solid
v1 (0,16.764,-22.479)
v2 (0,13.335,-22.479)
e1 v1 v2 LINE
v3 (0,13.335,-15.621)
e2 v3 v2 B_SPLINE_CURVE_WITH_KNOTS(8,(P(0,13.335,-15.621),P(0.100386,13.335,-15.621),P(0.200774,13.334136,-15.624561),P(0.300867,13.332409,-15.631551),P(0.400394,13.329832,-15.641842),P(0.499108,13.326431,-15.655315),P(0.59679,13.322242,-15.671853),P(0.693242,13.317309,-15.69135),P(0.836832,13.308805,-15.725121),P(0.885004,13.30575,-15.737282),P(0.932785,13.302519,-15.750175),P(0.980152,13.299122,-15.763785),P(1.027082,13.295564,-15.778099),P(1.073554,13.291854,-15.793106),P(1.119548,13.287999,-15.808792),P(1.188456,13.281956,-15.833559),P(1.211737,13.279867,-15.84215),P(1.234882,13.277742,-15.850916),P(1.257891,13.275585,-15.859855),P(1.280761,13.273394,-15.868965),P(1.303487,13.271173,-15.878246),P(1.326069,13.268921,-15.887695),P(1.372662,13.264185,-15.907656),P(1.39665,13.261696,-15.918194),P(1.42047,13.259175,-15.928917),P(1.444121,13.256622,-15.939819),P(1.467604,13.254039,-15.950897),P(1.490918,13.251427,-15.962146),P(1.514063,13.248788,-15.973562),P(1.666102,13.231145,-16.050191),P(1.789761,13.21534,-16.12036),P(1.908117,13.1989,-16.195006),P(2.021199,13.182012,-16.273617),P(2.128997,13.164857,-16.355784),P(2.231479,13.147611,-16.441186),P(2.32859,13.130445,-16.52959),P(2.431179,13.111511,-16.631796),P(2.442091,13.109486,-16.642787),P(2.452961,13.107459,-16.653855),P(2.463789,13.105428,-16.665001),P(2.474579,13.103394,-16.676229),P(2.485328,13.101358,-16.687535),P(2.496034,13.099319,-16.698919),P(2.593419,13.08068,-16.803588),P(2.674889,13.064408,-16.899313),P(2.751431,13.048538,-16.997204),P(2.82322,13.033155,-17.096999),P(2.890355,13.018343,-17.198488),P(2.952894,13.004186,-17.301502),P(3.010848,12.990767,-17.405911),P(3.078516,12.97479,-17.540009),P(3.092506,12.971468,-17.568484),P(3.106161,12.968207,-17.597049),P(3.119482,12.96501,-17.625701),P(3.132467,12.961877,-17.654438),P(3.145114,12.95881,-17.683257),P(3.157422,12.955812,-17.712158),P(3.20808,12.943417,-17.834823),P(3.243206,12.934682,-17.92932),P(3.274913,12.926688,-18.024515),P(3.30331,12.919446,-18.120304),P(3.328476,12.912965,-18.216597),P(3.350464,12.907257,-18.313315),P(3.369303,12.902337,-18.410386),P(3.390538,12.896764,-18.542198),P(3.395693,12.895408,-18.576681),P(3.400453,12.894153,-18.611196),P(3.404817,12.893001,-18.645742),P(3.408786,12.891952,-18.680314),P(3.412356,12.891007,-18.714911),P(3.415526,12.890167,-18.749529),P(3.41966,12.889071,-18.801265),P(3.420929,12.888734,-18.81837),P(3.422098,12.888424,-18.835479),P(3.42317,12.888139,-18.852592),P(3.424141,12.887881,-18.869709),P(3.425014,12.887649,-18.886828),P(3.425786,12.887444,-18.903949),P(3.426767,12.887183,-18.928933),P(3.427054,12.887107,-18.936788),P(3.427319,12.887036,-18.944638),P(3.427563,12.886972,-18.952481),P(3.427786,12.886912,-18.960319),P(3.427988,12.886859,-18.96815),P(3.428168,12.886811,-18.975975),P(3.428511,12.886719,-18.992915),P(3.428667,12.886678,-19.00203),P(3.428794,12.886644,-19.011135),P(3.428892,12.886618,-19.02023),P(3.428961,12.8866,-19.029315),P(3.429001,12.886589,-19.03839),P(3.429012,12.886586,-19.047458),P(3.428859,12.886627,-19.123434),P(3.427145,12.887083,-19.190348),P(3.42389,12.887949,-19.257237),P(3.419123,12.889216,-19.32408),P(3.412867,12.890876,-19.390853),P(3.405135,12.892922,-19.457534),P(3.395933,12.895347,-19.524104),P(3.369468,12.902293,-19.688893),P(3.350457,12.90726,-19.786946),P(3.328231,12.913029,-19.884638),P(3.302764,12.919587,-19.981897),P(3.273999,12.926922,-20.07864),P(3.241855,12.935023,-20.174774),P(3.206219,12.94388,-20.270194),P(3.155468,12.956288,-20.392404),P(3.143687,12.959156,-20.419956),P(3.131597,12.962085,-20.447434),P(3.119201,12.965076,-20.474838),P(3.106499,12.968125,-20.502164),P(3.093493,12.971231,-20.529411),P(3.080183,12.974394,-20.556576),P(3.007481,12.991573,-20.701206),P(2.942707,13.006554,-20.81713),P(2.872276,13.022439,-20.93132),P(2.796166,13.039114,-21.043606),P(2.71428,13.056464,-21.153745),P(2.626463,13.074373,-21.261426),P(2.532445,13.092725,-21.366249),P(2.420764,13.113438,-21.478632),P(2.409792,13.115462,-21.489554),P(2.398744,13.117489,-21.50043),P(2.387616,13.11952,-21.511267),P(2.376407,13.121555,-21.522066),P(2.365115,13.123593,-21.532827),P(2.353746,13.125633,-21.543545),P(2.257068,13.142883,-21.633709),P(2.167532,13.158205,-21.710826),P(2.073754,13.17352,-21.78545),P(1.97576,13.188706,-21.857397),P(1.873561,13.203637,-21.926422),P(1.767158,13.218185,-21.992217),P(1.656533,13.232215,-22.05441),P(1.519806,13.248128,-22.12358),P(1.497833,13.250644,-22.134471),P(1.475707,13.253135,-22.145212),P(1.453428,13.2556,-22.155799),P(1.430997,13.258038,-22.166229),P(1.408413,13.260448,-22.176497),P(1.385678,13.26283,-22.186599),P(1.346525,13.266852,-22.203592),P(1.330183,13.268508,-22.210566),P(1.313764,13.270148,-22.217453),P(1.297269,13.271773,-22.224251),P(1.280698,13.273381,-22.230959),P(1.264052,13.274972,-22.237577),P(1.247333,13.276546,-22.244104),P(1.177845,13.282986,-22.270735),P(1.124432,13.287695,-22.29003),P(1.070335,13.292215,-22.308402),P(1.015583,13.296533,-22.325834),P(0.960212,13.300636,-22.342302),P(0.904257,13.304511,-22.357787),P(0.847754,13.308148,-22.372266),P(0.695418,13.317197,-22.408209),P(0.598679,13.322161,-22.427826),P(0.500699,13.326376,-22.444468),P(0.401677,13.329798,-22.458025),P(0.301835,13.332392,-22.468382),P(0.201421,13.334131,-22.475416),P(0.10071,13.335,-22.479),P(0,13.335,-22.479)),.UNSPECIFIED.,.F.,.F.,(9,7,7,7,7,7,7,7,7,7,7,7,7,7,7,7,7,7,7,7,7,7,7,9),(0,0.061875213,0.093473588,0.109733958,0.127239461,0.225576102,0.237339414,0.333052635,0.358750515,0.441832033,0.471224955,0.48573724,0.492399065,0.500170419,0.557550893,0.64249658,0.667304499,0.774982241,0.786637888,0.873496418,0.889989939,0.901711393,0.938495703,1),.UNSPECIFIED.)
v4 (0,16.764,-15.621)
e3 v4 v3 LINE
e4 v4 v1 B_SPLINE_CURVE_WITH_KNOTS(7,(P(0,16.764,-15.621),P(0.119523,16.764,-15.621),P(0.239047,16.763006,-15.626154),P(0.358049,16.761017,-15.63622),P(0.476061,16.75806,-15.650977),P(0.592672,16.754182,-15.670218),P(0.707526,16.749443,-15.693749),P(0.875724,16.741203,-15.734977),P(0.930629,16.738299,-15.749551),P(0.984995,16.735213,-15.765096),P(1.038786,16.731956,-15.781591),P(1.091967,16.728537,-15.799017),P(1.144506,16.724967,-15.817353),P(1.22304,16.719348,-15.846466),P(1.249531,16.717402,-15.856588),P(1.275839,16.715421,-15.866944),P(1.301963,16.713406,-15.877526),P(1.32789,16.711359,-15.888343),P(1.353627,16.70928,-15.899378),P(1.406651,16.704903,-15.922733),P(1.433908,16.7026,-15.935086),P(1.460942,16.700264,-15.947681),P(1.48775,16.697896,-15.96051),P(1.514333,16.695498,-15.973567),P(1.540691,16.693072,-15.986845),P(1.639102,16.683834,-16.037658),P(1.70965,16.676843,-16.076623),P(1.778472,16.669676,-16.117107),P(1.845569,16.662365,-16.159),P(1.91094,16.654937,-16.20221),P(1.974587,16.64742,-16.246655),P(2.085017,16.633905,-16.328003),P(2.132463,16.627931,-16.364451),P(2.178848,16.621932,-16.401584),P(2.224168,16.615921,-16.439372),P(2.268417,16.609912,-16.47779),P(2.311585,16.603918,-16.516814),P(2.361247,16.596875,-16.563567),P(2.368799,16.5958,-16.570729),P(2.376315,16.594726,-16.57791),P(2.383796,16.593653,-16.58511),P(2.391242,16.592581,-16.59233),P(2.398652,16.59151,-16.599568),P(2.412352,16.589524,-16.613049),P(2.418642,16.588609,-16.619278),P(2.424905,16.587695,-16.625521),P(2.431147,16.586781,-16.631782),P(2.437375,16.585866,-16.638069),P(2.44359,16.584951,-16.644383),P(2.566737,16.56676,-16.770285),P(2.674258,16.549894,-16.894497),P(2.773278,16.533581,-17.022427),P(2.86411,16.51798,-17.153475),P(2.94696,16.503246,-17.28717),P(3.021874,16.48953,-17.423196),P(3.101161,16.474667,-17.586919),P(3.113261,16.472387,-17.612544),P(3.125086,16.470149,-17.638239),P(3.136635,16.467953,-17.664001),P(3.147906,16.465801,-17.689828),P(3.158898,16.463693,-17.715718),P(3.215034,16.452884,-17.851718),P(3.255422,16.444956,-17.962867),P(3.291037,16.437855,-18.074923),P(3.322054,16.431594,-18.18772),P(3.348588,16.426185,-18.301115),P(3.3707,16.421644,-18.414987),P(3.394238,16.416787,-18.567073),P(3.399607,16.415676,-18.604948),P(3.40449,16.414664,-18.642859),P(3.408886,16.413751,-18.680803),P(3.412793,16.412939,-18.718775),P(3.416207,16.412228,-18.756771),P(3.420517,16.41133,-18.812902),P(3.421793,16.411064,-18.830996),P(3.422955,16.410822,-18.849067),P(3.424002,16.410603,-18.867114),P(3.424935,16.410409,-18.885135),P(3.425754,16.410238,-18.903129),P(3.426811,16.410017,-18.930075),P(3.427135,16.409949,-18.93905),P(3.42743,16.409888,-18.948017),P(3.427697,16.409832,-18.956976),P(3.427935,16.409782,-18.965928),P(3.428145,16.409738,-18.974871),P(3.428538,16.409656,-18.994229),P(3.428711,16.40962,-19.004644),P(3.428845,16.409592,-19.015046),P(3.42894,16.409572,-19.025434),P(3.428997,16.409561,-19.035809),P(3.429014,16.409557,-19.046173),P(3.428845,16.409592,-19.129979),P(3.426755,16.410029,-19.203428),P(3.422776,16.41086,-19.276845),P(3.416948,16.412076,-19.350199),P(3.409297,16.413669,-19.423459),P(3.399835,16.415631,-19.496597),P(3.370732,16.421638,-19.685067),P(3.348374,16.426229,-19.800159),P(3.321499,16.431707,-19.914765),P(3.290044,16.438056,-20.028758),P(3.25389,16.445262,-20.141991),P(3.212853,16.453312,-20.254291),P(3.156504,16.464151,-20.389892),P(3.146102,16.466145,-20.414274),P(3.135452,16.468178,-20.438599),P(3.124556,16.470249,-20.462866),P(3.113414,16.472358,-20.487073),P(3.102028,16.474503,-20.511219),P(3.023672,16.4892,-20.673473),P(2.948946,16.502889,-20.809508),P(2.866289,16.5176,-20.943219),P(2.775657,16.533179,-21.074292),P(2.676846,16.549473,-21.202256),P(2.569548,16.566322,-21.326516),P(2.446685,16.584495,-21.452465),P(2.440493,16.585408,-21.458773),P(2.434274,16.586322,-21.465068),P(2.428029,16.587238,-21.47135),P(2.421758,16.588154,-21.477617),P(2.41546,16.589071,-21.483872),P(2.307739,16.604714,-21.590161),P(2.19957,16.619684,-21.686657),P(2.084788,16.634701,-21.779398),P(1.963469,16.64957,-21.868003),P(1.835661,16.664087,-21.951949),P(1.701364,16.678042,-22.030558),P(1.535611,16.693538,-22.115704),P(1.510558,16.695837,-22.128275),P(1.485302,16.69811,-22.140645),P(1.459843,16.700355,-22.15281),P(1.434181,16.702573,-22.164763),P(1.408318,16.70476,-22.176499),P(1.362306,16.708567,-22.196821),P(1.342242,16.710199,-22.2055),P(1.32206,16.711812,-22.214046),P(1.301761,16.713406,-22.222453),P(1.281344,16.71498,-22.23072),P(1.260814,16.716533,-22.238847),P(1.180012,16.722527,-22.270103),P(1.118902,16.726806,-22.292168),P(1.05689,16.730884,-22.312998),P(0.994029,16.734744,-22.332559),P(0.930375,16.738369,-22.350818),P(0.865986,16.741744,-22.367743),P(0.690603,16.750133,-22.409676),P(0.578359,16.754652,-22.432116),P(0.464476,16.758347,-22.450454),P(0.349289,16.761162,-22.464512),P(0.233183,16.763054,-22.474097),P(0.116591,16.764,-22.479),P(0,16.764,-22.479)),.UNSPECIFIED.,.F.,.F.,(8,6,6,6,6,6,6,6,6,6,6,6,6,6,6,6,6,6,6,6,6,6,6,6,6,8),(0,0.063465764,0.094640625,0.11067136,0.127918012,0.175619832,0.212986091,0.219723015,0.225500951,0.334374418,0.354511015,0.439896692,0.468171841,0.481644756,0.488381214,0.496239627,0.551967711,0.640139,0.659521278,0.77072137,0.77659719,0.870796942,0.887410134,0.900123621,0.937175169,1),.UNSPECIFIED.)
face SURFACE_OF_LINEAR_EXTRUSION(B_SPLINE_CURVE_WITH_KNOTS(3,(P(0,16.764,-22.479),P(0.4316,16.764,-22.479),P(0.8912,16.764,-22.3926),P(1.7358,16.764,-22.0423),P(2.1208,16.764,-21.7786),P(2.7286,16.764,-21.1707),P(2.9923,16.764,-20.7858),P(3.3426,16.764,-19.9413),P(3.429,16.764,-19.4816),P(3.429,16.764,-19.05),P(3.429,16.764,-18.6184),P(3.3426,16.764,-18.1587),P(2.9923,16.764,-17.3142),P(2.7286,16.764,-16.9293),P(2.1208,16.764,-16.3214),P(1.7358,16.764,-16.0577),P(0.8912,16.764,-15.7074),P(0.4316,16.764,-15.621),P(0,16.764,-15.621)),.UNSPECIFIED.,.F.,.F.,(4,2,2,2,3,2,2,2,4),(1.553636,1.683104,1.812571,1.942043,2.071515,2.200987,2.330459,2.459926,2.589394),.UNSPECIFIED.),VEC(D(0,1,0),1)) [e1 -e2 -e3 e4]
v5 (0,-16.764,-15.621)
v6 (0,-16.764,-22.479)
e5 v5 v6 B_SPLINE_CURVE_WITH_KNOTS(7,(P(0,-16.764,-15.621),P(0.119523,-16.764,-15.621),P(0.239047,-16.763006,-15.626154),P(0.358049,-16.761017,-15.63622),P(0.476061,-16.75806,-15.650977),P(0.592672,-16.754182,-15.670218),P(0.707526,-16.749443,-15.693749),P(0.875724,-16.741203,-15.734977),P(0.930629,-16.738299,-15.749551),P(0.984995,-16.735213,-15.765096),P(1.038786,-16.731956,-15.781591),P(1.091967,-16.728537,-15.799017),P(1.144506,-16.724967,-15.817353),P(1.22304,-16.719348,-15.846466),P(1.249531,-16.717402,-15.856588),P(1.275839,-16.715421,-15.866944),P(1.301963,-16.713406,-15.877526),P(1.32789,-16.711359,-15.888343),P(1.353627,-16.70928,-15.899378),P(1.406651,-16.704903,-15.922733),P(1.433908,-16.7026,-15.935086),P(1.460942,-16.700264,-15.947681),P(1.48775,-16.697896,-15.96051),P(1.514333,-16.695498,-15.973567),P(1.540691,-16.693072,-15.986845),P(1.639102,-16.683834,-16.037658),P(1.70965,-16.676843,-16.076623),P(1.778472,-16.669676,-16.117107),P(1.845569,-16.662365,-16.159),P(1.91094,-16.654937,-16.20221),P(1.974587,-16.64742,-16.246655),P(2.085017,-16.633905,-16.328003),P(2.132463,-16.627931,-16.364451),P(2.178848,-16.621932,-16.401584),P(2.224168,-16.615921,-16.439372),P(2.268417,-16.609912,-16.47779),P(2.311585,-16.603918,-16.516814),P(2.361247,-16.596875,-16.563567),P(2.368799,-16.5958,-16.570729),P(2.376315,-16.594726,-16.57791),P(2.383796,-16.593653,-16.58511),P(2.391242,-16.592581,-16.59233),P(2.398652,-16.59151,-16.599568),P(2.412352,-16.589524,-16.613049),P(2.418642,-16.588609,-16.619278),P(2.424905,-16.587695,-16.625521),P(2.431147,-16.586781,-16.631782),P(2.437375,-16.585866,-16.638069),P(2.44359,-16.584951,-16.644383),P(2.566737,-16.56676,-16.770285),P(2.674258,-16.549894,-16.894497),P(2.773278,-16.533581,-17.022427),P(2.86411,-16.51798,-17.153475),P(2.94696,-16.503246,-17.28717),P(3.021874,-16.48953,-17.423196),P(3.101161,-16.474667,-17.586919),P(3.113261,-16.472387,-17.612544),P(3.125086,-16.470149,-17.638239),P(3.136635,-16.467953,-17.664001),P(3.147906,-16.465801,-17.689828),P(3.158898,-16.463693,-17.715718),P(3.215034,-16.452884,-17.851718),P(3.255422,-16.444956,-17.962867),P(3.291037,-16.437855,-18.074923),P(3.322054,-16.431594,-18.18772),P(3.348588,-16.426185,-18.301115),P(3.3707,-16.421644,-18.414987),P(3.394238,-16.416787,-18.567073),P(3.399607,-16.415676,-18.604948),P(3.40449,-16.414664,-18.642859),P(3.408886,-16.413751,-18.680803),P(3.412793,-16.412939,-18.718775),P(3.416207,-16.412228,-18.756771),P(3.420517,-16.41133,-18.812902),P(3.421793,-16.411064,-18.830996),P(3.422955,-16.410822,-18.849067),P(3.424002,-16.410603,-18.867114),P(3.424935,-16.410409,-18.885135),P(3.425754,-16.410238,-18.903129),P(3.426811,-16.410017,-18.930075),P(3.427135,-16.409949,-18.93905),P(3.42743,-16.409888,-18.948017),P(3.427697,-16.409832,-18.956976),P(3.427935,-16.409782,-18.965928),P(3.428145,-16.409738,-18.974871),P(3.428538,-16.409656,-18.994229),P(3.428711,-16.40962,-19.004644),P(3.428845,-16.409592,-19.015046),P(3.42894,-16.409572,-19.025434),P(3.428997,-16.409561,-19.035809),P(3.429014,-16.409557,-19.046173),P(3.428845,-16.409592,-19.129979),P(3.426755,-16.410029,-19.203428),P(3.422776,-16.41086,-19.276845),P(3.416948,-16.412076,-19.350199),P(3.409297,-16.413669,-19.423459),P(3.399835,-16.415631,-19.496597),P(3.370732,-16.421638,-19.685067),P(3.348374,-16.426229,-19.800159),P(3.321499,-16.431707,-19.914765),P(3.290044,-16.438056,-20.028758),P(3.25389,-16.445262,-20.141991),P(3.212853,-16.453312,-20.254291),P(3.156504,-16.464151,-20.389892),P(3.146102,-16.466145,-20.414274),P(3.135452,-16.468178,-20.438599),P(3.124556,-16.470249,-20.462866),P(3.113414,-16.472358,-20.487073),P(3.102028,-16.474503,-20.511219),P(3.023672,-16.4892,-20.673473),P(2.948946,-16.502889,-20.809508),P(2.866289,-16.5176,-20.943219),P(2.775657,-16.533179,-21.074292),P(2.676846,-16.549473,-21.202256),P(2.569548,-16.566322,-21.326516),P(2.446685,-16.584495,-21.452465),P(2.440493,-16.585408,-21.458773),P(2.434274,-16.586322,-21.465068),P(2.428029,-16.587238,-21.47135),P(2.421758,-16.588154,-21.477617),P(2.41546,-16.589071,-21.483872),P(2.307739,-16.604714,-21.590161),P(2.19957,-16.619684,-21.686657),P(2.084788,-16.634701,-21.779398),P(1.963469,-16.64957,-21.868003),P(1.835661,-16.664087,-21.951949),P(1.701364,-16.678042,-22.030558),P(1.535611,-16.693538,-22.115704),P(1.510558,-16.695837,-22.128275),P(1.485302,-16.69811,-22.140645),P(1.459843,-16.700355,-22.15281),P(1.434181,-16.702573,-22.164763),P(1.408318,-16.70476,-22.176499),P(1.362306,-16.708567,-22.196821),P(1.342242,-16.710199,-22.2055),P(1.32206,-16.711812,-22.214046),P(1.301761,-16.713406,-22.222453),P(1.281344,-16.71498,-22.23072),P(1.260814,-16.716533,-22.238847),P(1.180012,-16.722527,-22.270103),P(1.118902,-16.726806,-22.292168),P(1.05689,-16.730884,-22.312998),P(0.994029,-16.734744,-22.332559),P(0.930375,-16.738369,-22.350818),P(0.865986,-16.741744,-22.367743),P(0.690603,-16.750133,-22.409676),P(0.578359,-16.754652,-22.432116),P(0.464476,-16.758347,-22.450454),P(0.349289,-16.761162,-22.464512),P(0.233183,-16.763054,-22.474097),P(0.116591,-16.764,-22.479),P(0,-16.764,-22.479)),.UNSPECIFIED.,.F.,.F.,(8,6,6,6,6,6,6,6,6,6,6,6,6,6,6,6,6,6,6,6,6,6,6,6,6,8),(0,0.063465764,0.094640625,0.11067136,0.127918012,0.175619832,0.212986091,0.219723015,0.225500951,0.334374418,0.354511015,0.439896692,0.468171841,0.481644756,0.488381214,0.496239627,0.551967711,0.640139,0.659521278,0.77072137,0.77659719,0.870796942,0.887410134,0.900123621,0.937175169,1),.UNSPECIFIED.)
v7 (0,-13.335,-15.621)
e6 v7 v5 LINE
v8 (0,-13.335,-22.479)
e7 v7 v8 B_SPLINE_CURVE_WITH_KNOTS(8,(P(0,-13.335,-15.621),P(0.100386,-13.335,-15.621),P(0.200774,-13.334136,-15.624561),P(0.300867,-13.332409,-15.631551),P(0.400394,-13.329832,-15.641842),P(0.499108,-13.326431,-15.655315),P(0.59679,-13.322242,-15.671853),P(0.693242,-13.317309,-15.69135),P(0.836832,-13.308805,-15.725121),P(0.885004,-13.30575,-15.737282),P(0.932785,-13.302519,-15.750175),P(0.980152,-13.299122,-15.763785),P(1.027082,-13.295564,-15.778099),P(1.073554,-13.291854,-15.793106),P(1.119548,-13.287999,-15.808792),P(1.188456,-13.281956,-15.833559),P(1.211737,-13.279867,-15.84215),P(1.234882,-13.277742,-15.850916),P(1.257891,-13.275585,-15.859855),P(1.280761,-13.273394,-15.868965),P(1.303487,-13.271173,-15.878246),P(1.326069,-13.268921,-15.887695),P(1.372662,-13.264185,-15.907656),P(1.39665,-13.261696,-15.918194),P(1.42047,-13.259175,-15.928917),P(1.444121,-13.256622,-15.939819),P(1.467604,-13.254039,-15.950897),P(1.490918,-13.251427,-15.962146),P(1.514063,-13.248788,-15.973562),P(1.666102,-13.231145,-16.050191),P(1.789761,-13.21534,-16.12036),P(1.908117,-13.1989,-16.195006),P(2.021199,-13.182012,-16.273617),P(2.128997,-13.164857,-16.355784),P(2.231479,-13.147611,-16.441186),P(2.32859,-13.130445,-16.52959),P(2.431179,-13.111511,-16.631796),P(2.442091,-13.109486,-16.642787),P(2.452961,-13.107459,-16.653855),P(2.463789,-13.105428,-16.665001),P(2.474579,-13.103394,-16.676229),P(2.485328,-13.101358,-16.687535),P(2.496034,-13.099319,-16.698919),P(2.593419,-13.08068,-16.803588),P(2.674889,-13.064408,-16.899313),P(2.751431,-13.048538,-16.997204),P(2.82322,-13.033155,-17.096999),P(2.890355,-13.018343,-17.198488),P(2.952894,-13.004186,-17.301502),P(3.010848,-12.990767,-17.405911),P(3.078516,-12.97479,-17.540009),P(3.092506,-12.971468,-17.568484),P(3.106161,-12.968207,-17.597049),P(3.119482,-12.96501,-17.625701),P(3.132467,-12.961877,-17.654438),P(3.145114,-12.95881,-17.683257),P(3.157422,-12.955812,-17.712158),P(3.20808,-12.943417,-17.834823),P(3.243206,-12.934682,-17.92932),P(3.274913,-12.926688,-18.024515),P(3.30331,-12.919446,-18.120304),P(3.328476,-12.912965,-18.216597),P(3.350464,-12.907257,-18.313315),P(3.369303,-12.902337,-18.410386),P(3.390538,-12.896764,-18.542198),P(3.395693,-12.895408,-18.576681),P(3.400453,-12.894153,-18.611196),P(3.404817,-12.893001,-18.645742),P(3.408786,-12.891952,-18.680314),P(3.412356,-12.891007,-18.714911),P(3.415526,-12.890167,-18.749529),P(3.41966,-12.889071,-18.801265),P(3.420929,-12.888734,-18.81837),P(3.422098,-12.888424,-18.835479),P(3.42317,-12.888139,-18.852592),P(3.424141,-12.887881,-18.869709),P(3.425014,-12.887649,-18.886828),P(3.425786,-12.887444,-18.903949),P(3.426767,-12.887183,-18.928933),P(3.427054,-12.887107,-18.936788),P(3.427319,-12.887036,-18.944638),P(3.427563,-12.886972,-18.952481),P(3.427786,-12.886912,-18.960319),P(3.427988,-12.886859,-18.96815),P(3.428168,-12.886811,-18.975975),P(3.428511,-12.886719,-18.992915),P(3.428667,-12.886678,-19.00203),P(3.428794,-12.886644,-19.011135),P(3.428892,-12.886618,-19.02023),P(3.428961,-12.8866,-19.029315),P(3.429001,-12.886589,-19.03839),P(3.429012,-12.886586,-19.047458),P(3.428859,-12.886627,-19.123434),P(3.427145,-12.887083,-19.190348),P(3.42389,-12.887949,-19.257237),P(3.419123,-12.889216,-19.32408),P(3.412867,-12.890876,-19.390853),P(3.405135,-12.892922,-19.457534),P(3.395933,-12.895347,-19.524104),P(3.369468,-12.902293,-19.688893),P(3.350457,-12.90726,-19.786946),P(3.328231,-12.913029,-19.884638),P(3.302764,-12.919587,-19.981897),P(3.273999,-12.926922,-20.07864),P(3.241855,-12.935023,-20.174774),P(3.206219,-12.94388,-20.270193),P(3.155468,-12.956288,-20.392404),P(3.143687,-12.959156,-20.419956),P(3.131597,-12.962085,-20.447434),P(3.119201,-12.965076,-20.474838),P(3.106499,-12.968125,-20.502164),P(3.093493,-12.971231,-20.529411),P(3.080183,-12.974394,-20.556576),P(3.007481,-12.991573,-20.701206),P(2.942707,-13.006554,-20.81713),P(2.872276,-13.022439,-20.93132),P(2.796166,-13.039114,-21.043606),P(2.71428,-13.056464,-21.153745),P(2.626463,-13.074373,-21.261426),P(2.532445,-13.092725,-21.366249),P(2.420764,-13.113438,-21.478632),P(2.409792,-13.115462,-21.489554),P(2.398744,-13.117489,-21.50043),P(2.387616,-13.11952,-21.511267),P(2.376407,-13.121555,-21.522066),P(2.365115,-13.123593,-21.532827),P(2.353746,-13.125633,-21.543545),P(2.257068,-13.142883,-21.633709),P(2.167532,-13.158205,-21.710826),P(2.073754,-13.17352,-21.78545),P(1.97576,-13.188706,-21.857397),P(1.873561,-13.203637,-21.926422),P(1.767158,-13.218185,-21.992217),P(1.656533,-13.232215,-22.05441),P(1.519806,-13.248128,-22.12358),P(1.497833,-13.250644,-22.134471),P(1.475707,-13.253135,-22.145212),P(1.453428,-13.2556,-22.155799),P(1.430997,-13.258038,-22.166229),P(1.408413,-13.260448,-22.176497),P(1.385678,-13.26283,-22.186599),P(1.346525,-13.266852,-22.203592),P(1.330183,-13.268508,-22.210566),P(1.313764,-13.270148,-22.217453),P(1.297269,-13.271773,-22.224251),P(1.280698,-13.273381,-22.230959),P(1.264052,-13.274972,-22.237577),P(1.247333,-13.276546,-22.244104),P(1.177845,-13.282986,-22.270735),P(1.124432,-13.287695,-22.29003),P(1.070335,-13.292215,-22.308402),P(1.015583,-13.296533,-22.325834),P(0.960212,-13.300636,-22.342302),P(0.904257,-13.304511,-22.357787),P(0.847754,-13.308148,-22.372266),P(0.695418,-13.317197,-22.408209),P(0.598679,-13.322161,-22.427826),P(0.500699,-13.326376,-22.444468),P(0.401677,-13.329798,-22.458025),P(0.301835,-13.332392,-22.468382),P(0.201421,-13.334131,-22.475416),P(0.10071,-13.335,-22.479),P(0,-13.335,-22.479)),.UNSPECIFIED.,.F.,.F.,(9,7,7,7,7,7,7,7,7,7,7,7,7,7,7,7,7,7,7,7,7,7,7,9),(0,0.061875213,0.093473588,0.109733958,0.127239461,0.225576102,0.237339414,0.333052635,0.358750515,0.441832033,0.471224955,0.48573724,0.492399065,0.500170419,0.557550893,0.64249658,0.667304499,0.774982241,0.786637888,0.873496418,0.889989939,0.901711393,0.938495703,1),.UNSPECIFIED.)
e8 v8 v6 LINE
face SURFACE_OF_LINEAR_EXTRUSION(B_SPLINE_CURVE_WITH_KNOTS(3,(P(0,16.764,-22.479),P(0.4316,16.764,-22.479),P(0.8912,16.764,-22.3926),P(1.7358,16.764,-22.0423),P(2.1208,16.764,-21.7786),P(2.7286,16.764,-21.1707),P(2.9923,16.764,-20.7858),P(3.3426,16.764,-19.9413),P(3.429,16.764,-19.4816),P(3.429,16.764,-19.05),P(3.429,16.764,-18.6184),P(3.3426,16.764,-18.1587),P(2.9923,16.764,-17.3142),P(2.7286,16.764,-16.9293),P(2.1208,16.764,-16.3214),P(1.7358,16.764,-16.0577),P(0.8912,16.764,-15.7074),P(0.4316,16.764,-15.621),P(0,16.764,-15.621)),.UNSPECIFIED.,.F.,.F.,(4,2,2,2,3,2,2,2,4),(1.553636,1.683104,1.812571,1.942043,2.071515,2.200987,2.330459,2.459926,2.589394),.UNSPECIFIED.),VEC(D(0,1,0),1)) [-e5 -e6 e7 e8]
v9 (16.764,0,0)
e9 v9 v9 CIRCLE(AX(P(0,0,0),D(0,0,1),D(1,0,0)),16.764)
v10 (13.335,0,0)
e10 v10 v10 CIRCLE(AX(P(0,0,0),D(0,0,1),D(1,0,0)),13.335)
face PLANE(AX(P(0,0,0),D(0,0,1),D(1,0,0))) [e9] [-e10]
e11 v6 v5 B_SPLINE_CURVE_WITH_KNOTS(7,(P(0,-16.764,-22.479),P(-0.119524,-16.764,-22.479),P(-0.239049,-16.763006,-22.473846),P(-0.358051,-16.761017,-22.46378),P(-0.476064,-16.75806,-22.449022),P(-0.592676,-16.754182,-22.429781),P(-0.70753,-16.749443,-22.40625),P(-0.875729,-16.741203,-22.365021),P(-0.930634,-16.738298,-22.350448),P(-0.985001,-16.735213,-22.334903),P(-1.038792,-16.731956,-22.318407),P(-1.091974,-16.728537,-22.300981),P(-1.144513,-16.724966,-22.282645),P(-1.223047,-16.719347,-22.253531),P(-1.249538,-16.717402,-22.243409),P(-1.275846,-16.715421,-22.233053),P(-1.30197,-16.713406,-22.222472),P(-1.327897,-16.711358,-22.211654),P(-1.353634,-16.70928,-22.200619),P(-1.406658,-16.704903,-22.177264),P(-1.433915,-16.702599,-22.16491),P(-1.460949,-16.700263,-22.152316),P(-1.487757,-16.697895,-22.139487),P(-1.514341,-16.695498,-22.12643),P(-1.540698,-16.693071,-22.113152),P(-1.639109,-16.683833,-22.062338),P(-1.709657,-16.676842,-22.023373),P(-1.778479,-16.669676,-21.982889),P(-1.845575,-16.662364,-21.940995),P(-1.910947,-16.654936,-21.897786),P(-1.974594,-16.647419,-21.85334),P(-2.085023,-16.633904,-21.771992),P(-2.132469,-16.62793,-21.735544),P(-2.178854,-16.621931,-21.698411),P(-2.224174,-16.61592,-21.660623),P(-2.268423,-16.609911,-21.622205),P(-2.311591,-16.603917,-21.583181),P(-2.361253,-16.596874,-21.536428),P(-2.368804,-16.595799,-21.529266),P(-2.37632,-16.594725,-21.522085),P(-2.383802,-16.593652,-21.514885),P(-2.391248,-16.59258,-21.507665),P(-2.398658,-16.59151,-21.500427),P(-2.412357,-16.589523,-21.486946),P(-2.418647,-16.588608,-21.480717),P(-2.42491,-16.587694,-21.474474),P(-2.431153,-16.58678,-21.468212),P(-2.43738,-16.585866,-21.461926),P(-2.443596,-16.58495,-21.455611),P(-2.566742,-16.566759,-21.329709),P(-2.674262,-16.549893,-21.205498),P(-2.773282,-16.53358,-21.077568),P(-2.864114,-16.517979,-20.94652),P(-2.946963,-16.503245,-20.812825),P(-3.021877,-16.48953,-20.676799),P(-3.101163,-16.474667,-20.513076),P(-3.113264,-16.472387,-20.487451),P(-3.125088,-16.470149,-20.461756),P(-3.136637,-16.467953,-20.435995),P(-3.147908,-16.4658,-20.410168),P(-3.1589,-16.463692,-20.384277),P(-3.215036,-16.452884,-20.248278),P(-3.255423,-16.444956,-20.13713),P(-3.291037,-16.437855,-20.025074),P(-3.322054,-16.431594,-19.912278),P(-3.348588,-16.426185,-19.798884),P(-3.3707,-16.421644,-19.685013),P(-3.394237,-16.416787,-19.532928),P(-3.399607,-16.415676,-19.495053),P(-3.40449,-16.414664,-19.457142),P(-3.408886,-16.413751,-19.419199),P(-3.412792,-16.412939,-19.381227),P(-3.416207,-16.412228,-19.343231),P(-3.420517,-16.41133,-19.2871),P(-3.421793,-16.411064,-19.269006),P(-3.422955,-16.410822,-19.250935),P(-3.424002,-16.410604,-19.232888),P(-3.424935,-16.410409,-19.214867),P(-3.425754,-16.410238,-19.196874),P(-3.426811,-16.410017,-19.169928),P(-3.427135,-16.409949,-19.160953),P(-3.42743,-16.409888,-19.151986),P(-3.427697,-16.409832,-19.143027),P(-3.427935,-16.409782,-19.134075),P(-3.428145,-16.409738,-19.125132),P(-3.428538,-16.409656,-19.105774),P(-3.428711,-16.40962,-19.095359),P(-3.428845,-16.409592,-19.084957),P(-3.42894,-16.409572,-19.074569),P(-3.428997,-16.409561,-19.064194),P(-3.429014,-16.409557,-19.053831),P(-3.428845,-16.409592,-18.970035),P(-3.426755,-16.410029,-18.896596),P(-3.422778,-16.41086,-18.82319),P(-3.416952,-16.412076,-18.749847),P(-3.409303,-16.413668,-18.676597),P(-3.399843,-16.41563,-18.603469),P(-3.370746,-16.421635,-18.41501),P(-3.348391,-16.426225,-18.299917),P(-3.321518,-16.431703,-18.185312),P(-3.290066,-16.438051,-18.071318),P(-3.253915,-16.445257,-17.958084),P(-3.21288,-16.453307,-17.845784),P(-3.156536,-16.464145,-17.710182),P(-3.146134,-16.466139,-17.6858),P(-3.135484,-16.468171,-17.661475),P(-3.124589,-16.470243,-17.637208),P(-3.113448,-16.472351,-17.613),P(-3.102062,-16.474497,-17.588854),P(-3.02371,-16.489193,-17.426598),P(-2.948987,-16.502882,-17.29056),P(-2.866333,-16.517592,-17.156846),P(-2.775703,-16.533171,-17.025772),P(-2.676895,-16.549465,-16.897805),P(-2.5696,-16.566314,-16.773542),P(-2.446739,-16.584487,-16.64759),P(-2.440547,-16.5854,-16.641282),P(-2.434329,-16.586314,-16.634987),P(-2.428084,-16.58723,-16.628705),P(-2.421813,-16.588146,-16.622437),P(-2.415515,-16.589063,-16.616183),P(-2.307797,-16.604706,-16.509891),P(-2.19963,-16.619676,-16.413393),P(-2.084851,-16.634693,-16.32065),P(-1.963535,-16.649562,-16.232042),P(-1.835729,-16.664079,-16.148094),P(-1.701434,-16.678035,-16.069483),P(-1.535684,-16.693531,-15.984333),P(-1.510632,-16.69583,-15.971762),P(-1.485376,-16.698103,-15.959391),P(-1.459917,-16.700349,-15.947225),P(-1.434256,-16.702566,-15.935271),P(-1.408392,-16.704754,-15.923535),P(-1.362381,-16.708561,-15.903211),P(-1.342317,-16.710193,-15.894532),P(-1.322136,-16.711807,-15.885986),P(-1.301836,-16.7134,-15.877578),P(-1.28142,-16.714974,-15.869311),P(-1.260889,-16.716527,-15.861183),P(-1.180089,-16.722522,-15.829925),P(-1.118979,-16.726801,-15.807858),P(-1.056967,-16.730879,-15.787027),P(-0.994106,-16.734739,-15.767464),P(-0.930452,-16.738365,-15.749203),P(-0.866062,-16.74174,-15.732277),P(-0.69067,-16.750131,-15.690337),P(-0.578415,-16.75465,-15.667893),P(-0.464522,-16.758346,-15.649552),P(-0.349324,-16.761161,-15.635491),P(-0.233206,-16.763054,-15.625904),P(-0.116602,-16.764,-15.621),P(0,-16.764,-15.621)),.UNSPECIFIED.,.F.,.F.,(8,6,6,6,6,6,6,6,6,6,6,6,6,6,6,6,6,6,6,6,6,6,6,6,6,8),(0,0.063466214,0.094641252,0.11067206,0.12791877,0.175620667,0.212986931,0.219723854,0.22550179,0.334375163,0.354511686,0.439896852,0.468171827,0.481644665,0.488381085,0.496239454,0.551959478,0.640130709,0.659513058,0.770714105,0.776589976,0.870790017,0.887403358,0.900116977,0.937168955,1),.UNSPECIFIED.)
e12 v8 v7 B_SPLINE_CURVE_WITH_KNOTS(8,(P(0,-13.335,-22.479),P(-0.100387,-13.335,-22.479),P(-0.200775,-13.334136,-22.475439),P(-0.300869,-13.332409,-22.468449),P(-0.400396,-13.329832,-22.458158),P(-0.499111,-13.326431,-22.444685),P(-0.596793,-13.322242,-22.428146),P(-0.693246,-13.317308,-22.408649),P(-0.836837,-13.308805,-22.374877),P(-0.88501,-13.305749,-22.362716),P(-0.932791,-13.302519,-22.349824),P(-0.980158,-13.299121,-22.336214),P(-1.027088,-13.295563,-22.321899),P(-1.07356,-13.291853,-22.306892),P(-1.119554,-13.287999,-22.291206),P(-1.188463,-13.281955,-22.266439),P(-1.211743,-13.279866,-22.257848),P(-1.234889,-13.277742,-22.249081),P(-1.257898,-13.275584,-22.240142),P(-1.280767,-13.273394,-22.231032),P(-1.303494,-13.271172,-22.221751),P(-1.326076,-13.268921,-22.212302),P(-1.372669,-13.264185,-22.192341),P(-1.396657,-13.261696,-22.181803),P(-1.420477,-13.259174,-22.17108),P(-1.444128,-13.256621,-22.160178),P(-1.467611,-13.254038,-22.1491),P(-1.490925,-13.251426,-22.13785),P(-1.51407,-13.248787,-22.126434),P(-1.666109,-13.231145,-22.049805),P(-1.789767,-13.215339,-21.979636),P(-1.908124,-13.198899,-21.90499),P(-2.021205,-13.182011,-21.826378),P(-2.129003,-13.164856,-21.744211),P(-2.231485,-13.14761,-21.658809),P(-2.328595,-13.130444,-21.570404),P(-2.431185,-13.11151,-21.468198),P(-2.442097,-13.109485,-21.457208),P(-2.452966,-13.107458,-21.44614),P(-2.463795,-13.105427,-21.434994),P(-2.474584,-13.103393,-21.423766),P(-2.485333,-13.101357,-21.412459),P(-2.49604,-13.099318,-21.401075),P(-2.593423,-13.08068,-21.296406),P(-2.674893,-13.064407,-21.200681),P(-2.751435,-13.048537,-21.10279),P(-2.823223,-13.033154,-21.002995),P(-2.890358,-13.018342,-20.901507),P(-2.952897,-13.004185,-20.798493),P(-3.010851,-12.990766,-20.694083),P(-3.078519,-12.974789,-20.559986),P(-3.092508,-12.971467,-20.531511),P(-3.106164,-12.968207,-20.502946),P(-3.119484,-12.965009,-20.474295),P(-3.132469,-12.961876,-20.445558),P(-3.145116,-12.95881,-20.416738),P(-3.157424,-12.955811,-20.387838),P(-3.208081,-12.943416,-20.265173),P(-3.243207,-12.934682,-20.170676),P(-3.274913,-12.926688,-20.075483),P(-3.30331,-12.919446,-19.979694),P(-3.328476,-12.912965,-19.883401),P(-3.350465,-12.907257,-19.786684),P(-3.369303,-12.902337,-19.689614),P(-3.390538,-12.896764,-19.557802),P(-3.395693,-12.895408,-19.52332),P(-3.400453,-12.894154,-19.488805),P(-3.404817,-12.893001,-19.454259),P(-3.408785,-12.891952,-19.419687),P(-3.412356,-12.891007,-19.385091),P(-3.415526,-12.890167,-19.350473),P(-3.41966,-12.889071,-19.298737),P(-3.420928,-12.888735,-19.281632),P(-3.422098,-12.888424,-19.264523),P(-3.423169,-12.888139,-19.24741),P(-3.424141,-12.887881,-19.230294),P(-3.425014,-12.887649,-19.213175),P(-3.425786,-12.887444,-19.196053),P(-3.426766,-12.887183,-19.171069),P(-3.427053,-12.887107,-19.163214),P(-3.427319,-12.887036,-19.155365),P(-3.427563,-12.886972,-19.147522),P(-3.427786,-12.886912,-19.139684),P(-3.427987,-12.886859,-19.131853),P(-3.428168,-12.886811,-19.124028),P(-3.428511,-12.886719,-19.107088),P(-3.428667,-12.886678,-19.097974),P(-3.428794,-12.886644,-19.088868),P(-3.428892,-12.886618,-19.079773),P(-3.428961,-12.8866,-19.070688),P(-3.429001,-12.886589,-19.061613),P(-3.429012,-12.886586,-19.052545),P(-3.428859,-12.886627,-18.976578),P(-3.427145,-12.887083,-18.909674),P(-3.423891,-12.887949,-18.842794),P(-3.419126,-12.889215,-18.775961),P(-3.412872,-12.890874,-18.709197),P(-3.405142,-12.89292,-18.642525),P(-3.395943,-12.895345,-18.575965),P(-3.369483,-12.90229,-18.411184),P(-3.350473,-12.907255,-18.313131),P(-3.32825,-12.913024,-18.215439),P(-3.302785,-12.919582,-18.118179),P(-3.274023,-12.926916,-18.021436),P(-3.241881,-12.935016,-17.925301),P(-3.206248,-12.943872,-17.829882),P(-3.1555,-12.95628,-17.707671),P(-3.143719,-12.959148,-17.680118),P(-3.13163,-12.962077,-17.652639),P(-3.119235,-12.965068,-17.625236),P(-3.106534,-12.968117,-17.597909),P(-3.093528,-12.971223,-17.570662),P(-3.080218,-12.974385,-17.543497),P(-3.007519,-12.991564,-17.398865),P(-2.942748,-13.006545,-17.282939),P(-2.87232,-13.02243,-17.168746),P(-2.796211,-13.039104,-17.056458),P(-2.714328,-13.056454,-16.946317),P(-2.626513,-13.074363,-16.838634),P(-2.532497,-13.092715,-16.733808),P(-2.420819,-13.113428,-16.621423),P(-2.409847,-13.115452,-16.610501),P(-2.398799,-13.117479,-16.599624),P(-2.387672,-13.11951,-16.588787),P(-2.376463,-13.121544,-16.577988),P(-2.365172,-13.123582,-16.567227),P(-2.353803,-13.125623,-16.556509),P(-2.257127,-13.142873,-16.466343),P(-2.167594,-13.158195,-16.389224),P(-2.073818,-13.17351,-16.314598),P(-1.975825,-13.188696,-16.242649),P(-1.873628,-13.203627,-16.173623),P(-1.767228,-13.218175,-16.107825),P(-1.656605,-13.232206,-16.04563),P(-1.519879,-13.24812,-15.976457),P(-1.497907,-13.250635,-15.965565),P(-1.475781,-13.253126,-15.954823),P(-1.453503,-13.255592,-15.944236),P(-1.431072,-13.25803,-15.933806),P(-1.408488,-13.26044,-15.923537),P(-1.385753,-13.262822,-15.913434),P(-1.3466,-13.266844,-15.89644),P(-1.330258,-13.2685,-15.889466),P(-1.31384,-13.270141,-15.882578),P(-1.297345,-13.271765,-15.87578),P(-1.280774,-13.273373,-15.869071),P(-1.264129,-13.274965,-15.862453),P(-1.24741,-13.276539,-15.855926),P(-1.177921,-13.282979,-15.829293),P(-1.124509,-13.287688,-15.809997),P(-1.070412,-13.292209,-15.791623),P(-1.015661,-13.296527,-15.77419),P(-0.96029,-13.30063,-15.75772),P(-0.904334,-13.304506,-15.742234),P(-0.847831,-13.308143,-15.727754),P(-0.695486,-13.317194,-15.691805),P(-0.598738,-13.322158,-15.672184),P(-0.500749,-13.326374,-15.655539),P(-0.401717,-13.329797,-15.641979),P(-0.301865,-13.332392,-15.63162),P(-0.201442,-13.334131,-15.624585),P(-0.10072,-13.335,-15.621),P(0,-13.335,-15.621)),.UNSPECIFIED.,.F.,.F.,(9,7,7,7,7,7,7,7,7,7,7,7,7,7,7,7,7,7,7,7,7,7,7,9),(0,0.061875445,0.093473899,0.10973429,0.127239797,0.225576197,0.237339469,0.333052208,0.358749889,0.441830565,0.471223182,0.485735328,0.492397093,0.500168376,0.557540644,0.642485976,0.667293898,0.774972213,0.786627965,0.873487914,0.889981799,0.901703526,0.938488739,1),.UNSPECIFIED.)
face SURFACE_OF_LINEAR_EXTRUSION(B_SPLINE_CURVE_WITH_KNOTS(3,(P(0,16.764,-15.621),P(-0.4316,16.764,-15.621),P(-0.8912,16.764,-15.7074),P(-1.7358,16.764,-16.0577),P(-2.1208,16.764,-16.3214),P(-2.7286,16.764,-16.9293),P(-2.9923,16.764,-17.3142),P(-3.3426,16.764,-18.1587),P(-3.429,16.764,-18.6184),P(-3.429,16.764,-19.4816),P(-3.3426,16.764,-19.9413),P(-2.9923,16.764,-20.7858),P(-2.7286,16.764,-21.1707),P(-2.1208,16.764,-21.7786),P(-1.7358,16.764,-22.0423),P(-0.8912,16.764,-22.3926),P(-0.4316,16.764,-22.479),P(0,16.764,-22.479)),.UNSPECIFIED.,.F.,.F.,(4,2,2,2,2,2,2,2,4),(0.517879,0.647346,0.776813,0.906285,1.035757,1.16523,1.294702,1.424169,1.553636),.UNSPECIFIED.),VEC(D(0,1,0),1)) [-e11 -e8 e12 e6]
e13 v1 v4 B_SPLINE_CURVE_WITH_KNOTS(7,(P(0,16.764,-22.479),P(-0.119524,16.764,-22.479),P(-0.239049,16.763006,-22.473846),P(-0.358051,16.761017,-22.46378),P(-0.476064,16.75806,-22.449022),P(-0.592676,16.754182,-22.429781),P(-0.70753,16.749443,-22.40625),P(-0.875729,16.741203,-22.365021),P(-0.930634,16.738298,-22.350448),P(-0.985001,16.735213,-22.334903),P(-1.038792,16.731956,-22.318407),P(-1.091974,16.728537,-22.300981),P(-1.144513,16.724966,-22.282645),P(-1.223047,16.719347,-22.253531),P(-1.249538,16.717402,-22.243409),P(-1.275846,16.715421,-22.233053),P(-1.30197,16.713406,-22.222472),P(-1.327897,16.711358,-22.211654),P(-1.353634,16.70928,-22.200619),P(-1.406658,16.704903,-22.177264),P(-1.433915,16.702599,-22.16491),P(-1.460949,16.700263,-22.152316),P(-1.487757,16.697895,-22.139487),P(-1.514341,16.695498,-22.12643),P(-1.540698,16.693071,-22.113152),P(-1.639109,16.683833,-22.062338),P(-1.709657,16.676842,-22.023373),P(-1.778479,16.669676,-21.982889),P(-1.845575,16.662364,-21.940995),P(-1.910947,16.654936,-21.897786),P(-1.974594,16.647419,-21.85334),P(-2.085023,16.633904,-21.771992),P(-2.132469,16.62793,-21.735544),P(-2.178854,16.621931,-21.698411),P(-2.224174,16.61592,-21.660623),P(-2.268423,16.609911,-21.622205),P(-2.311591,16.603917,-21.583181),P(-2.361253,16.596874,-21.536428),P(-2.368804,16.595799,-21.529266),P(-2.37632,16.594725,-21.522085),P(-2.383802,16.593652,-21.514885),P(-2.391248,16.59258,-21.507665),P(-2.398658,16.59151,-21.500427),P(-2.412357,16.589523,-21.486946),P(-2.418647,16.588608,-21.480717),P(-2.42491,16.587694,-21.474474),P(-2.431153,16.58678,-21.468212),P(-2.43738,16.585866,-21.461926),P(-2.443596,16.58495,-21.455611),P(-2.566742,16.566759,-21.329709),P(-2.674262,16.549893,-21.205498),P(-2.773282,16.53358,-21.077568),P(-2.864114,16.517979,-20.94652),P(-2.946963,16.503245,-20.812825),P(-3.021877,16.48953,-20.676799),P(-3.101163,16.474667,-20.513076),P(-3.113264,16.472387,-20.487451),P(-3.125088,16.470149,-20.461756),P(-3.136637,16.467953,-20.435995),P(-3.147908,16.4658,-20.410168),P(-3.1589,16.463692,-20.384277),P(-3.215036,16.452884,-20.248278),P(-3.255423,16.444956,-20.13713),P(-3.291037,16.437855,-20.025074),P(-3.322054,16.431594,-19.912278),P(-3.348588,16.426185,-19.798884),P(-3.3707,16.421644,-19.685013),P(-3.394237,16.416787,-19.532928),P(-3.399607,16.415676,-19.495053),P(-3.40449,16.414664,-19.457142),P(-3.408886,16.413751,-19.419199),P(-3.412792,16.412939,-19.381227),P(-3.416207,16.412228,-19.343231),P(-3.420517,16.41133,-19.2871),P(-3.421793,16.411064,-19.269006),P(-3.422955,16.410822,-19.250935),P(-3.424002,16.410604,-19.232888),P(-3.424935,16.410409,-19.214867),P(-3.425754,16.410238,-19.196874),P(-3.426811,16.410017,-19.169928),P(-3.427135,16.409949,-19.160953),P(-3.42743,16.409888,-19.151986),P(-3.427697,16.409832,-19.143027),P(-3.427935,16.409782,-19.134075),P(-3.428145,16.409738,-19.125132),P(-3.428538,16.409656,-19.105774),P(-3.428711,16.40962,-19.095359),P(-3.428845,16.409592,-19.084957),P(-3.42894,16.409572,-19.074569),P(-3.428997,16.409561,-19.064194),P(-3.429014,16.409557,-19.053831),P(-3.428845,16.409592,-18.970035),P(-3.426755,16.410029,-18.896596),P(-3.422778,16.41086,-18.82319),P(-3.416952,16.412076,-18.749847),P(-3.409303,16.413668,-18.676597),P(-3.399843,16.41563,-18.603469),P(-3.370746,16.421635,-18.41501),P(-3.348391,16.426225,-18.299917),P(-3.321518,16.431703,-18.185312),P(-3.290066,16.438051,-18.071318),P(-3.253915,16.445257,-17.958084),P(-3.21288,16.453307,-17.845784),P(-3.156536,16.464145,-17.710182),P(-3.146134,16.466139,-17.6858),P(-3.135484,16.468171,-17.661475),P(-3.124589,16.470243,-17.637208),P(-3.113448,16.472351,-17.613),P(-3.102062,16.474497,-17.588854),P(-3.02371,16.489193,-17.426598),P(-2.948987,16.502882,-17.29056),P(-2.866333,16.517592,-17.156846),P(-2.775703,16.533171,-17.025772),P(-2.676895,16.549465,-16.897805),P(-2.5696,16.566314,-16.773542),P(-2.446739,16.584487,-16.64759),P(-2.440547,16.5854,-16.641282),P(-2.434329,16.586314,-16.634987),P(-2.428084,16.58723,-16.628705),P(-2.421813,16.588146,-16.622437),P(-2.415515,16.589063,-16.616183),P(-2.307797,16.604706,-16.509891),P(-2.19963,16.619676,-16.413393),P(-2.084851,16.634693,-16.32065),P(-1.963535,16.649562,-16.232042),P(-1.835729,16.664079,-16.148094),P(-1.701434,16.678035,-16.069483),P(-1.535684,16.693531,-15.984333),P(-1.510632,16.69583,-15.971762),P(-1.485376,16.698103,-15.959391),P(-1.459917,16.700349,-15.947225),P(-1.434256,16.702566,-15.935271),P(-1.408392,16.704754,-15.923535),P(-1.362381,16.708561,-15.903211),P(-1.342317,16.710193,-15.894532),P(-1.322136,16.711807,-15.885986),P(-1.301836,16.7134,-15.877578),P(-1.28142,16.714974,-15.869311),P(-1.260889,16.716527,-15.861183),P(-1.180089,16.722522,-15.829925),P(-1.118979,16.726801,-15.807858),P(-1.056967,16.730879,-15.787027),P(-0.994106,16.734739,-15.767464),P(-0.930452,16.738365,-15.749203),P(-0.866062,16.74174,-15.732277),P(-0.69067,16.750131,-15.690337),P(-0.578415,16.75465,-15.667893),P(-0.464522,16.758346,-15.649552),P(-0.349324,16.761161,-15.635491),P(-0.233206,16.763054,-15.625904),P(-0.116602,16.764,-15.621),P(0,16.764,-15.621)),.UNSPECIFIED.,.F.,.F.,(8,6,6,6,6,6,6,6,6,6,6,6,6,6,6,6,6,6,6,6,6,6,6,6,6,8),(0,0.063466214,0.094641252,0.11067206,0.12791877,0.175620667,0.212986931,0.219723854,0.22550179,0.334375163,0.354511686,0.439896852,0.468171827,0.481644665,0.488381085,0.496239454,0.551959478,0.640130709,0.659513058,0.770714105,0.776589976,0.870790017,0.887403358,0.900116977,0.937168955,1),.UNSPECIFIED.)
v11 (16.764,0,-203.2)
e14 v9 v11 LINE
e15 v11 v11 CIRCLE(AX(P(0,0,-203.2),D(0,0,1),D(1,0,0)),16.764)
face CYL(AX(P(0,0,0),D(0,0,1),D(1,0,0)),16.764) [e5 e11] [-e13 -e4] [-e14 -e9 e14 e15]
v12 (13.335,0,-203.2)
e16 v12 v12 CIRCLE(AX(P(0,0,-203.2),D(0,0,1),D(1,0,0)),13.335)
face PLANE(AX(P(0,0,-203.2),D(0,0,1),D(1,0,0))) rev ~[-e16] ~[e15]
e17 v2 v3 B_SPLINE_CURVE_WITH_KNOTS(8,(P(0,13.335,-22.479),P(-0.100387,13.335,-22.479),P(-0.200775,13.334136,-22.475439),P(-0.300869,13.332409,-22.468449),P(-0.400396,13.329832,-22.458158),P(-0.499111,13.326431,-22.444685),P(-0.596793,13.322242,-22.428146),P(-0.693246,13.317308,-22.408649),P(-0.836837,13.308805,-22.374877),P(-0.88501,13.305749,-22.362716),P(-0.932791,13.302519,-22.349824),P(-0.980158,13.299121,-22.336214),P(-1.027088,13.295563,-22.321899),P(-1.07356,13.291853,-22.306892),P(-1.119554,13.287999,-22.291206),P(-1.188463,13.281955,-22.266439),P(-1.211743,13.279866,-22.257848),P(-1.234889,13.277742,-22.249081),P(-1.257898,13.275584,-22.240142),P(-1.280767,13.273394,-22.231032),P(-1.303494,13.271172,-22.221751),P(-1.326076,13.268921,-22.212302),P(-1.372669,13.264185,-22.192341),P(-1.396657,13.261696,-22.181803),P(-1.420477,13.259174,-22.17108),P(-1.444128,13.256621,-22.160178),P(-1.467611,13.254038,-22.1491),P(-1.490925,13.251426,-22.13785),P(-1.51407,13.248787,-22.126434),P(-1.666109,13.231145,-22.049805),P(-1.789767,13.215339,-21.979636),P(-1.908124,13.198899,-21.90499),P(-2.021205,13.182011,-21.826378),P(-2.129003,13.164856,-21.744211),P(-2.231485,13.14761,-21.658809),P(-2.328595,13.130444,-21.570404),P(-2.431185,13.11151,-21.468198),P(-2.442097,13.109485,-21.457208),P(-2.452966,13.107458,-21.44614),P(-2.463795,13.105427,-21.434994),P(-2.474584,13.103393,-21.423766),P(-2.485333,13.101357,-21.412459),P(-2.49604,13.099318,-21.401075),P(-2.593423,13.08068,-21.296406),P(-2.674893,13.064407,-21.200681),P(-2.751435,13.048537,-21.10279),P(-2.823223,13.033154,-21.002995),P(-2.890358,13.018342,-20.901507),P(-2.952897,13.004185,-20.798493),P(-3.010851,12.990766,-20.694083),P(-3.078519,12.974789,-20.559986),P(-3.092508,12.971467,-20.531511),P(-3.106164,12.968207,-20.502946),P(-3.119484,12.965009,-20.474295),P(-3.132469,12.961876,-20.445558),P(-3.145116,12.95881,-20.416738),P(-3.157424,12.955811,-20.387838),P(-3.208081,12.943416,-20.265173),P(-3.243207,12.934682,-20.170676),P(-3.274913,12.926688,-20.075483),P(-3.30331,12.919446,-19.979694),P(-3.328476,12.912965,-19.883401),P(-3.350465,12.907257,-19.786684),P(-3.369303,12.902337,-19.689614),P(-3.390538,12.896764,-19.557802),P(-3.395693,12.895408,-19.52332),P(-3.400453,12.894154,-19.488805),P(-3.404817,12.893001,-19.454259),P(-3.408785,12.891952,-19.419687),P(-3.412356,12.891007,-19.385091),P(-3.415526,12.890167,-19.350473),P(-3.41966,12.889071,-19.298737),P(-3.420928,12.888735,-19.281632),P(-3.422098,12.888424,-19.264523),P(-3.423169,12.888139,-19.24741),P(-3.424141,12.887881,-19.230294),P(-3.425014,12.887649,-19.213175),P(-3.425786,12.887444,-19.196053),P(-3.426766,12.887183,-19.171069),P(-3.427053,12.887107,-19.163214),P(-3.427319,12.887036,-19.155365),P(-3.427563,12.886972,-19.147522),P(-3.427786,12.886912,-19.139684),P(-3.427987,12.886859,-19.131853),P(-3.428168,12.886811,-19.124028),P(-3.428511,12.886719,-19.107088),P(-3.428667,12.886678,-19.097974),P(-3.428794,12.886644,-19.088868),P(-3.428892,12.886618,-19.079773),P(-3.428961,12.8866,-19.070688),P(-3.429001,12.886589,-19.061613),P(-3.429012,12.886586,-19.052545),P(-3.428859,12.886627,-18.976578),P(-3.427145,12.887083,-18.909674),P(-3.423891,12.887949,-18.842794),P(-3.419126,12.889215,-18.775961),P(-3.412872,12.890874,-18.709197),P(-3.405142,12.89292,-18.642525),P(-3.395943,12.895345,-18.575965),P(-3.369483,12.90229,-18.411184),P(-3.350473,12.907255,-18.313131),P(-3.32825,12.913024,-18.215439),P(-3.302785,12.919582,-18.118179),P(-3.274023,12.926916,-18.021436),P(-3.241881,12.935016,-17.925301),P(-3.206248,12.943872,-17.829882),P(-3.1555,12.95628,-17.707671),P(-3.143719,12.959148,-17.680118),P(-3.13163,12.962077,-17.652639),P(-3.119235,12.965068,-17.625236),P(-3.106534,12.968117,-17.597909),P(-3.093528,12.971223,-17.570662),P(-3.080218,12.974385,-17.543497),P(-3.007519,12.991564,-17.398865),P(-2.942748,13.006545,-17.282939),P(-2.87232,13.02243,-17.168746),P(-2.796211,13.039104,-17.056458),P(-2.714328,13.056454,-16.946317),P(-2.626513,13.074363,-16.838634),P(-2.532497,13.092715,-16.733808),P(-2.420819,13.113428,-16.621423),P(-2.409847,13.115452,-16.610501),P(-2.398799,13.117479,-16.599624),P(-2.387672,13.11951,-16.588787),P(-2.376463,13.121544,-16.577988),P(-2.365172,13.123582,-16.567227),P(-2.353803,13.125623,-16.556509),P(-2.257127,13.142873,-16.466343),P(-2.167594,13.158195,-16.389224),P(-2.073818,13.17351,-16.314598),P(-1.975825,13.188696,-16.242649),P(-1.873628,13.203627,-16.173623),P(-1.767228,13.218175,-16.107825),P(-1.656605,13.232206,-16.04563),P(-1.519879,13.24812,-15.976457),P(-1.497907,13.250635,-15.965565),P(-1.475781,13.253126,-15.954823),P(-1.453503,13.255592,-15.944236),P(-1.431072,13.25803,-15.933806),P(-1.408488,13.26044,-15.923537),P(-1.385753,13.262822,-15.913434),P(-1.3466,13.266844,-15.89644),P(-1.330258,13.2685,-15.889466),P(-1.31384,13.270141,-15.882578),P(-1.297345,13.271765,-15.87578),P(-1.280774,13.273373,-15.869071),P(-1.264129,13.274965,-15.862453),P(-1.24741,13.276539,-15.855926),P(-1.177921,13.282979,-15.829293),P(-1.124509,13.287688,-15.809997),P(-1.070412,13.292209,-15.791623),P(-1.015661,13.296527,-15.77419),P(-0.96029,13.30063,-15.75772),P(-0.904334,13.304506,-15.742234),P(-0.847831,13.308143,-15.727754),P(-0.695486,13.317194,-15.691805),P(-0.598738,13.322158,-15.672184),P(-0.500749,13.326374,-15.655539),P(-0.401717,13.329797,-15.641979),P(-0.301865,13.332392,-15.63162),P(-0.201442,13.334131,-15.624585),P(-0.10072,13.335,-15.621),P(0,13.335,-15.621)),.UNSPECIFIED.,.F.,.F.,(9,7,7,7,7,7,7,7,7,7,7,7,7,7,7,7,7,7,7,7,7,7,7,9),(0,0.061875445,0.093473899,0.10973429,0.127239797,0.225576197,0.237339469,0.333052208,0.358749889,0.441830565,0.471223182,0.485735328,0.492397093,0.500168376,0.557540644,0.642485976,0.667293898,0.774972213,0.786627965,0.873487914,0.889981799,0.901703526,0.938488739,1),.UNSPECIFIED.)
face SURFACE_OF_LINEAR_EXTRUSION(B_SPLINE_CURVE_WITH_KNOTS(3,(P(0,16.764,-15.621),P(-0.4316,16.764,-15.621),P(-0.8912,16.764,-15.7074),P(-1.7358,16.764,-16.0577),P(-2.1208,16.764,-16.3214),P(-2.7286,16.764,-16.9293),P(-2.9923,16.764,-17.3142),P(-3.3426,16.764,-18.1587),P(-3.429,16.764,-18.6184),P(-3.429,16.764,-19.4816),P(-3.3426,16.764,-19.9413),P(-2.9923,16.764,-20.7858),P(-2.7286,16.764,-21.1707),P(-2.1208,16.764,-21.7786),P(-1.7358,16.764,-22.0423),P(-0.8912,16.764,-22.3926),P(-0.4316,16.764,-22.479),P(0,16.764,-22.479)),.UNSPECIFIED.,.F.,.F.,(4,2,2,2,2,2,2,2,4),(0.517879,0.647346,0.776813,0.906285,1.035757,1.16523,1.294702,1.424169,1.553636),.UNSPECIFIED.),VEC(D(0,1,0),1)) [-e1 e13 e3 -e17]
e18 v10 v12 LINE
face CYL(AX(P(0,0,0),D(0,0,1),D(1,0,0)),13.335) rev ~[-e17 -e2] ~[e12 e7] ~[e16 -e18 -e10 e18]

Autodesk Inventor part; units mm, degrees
ref_plane "YZ Plane" through (0, 0, 0) normal (1, 0, 0) x (0, 1, 0)
ref_plane "XY Plane" through (0, 0, 0) normal (0, 0, 1) x (1, 0, 0)
sketch "Sketch1" plane through (0, 0, 0) normal (0, 0, 1) x (1, 0, 0)
  circle A0 centre (0, 0) radius 16.764
  circle A1 centre (0, 0) radius 13.335
  dimension "d0" = 33.528
  dimension "d2" = 26.67
extrude "Extrusion1" add sketch "Sketch1" against normal blind 203.2
ref_plane "Work Plane1" through (0, 16.764, 0) normal (0, 1, 0) x (-1, 0, 0)
sketch "Sketch2" plane through (0, 16.764, 0) normal (0, 1, 0) x (-1, 0, 0)
  spline S0 degree 3 poles (0, -22.479) (-0.4316, -22.479) (-0.8912, -22.3926) (-1.7358, -22.0423) (-2.1208, -21.7786) (-2.7286, -21.1707) (-2.9923, -20.7858) (-3.3426, -19.9413) (-3.429, -19.4816) (-3.429, -19.05) (-3.429, -18.6184) (-3.3426, -18.1587) (-2.9923, -17.3142) (-2.7286, -16.9293) (-2.1208, -16.3214) (-1.7358, -16.0577) (-0.8912, -15.7074) (-0.4316, -15.621) (0, -15.621) knots 1.553636 1.553636 1.553636 1.553636 1.683104 1.683104 1.812571 1.812571 1.942043 1.942043 2.071515 2.071515 2.071515 2.200987 2.200987 2.330459 2.330459 2.459926 2.459926 2.589394 2.589394 2.589394 2.589394 projected
  spline S1 degree 3 poles (0, -22.479) (-0.4316, -22.479) (-0.8912, -22.3926) (-1.7358, -22.0423) (-2.1208, -21.7786) (-2.7286, -21.1707) (-2.9923, -20.7858) (-3.3426, -19.9413) (-3.429, -19.4816) (-3.429, -19.05) (-3.429, -18.6184) (-3.3426, -18.1587) (-2.9923, -17.3142) (-2.7286, -16.9293) (-2.1208, -16.3214) (-1.7358, -16.0577) (-0.8912, -15.7074) (-0.4316, -15.621) (0, -15.621) knots 1.553636 1.553636 1.553636 1.553636 1.683104 1.683104 1.812571 1.812571 1.942043 1.942043 2.071515 2.071515 2.071515 2.200987 2.200987 2.330459 2.330459 2.459926 2.459926 2.589394 2.589394 2.589394 2.589394 projected
  spline S2 degree 3 poles (0, -15.621) (0.4316, -15.621) (0.8912, -15.7074) (1.7358, -16.0577) (2.1208, -16.3214) (2.7286, -16.9293) (2.9923, -17.3142) (3.3426, -18.1587) (3.429, -18.6184) (3.429, -19.4816) (3.3426, -19.9413) (2.9923, -20.7858) (2.7286, -21.1707) (2.1208, -21.7786) (1.7358, -22.0423) (0.8912, -22.3926) (0.4316, -22.479) (0, -22.479) knots 0.517879 0.517879 0.517879 0.517879 0.647346 0.647346 0.776813 0.776813 0.906285 0.906285 1.035757 1.035757 1.16523 1.16523 1.294702 1.294702 1.424169 1.424169 1.553636 1.553636 1.553636 1.553636 projected
  point P0 (0, 0)
extrude "Extrusion2" cut sketch "Sketch2" against normal through all
properties part number "GE-13026-02" material "Steel"
